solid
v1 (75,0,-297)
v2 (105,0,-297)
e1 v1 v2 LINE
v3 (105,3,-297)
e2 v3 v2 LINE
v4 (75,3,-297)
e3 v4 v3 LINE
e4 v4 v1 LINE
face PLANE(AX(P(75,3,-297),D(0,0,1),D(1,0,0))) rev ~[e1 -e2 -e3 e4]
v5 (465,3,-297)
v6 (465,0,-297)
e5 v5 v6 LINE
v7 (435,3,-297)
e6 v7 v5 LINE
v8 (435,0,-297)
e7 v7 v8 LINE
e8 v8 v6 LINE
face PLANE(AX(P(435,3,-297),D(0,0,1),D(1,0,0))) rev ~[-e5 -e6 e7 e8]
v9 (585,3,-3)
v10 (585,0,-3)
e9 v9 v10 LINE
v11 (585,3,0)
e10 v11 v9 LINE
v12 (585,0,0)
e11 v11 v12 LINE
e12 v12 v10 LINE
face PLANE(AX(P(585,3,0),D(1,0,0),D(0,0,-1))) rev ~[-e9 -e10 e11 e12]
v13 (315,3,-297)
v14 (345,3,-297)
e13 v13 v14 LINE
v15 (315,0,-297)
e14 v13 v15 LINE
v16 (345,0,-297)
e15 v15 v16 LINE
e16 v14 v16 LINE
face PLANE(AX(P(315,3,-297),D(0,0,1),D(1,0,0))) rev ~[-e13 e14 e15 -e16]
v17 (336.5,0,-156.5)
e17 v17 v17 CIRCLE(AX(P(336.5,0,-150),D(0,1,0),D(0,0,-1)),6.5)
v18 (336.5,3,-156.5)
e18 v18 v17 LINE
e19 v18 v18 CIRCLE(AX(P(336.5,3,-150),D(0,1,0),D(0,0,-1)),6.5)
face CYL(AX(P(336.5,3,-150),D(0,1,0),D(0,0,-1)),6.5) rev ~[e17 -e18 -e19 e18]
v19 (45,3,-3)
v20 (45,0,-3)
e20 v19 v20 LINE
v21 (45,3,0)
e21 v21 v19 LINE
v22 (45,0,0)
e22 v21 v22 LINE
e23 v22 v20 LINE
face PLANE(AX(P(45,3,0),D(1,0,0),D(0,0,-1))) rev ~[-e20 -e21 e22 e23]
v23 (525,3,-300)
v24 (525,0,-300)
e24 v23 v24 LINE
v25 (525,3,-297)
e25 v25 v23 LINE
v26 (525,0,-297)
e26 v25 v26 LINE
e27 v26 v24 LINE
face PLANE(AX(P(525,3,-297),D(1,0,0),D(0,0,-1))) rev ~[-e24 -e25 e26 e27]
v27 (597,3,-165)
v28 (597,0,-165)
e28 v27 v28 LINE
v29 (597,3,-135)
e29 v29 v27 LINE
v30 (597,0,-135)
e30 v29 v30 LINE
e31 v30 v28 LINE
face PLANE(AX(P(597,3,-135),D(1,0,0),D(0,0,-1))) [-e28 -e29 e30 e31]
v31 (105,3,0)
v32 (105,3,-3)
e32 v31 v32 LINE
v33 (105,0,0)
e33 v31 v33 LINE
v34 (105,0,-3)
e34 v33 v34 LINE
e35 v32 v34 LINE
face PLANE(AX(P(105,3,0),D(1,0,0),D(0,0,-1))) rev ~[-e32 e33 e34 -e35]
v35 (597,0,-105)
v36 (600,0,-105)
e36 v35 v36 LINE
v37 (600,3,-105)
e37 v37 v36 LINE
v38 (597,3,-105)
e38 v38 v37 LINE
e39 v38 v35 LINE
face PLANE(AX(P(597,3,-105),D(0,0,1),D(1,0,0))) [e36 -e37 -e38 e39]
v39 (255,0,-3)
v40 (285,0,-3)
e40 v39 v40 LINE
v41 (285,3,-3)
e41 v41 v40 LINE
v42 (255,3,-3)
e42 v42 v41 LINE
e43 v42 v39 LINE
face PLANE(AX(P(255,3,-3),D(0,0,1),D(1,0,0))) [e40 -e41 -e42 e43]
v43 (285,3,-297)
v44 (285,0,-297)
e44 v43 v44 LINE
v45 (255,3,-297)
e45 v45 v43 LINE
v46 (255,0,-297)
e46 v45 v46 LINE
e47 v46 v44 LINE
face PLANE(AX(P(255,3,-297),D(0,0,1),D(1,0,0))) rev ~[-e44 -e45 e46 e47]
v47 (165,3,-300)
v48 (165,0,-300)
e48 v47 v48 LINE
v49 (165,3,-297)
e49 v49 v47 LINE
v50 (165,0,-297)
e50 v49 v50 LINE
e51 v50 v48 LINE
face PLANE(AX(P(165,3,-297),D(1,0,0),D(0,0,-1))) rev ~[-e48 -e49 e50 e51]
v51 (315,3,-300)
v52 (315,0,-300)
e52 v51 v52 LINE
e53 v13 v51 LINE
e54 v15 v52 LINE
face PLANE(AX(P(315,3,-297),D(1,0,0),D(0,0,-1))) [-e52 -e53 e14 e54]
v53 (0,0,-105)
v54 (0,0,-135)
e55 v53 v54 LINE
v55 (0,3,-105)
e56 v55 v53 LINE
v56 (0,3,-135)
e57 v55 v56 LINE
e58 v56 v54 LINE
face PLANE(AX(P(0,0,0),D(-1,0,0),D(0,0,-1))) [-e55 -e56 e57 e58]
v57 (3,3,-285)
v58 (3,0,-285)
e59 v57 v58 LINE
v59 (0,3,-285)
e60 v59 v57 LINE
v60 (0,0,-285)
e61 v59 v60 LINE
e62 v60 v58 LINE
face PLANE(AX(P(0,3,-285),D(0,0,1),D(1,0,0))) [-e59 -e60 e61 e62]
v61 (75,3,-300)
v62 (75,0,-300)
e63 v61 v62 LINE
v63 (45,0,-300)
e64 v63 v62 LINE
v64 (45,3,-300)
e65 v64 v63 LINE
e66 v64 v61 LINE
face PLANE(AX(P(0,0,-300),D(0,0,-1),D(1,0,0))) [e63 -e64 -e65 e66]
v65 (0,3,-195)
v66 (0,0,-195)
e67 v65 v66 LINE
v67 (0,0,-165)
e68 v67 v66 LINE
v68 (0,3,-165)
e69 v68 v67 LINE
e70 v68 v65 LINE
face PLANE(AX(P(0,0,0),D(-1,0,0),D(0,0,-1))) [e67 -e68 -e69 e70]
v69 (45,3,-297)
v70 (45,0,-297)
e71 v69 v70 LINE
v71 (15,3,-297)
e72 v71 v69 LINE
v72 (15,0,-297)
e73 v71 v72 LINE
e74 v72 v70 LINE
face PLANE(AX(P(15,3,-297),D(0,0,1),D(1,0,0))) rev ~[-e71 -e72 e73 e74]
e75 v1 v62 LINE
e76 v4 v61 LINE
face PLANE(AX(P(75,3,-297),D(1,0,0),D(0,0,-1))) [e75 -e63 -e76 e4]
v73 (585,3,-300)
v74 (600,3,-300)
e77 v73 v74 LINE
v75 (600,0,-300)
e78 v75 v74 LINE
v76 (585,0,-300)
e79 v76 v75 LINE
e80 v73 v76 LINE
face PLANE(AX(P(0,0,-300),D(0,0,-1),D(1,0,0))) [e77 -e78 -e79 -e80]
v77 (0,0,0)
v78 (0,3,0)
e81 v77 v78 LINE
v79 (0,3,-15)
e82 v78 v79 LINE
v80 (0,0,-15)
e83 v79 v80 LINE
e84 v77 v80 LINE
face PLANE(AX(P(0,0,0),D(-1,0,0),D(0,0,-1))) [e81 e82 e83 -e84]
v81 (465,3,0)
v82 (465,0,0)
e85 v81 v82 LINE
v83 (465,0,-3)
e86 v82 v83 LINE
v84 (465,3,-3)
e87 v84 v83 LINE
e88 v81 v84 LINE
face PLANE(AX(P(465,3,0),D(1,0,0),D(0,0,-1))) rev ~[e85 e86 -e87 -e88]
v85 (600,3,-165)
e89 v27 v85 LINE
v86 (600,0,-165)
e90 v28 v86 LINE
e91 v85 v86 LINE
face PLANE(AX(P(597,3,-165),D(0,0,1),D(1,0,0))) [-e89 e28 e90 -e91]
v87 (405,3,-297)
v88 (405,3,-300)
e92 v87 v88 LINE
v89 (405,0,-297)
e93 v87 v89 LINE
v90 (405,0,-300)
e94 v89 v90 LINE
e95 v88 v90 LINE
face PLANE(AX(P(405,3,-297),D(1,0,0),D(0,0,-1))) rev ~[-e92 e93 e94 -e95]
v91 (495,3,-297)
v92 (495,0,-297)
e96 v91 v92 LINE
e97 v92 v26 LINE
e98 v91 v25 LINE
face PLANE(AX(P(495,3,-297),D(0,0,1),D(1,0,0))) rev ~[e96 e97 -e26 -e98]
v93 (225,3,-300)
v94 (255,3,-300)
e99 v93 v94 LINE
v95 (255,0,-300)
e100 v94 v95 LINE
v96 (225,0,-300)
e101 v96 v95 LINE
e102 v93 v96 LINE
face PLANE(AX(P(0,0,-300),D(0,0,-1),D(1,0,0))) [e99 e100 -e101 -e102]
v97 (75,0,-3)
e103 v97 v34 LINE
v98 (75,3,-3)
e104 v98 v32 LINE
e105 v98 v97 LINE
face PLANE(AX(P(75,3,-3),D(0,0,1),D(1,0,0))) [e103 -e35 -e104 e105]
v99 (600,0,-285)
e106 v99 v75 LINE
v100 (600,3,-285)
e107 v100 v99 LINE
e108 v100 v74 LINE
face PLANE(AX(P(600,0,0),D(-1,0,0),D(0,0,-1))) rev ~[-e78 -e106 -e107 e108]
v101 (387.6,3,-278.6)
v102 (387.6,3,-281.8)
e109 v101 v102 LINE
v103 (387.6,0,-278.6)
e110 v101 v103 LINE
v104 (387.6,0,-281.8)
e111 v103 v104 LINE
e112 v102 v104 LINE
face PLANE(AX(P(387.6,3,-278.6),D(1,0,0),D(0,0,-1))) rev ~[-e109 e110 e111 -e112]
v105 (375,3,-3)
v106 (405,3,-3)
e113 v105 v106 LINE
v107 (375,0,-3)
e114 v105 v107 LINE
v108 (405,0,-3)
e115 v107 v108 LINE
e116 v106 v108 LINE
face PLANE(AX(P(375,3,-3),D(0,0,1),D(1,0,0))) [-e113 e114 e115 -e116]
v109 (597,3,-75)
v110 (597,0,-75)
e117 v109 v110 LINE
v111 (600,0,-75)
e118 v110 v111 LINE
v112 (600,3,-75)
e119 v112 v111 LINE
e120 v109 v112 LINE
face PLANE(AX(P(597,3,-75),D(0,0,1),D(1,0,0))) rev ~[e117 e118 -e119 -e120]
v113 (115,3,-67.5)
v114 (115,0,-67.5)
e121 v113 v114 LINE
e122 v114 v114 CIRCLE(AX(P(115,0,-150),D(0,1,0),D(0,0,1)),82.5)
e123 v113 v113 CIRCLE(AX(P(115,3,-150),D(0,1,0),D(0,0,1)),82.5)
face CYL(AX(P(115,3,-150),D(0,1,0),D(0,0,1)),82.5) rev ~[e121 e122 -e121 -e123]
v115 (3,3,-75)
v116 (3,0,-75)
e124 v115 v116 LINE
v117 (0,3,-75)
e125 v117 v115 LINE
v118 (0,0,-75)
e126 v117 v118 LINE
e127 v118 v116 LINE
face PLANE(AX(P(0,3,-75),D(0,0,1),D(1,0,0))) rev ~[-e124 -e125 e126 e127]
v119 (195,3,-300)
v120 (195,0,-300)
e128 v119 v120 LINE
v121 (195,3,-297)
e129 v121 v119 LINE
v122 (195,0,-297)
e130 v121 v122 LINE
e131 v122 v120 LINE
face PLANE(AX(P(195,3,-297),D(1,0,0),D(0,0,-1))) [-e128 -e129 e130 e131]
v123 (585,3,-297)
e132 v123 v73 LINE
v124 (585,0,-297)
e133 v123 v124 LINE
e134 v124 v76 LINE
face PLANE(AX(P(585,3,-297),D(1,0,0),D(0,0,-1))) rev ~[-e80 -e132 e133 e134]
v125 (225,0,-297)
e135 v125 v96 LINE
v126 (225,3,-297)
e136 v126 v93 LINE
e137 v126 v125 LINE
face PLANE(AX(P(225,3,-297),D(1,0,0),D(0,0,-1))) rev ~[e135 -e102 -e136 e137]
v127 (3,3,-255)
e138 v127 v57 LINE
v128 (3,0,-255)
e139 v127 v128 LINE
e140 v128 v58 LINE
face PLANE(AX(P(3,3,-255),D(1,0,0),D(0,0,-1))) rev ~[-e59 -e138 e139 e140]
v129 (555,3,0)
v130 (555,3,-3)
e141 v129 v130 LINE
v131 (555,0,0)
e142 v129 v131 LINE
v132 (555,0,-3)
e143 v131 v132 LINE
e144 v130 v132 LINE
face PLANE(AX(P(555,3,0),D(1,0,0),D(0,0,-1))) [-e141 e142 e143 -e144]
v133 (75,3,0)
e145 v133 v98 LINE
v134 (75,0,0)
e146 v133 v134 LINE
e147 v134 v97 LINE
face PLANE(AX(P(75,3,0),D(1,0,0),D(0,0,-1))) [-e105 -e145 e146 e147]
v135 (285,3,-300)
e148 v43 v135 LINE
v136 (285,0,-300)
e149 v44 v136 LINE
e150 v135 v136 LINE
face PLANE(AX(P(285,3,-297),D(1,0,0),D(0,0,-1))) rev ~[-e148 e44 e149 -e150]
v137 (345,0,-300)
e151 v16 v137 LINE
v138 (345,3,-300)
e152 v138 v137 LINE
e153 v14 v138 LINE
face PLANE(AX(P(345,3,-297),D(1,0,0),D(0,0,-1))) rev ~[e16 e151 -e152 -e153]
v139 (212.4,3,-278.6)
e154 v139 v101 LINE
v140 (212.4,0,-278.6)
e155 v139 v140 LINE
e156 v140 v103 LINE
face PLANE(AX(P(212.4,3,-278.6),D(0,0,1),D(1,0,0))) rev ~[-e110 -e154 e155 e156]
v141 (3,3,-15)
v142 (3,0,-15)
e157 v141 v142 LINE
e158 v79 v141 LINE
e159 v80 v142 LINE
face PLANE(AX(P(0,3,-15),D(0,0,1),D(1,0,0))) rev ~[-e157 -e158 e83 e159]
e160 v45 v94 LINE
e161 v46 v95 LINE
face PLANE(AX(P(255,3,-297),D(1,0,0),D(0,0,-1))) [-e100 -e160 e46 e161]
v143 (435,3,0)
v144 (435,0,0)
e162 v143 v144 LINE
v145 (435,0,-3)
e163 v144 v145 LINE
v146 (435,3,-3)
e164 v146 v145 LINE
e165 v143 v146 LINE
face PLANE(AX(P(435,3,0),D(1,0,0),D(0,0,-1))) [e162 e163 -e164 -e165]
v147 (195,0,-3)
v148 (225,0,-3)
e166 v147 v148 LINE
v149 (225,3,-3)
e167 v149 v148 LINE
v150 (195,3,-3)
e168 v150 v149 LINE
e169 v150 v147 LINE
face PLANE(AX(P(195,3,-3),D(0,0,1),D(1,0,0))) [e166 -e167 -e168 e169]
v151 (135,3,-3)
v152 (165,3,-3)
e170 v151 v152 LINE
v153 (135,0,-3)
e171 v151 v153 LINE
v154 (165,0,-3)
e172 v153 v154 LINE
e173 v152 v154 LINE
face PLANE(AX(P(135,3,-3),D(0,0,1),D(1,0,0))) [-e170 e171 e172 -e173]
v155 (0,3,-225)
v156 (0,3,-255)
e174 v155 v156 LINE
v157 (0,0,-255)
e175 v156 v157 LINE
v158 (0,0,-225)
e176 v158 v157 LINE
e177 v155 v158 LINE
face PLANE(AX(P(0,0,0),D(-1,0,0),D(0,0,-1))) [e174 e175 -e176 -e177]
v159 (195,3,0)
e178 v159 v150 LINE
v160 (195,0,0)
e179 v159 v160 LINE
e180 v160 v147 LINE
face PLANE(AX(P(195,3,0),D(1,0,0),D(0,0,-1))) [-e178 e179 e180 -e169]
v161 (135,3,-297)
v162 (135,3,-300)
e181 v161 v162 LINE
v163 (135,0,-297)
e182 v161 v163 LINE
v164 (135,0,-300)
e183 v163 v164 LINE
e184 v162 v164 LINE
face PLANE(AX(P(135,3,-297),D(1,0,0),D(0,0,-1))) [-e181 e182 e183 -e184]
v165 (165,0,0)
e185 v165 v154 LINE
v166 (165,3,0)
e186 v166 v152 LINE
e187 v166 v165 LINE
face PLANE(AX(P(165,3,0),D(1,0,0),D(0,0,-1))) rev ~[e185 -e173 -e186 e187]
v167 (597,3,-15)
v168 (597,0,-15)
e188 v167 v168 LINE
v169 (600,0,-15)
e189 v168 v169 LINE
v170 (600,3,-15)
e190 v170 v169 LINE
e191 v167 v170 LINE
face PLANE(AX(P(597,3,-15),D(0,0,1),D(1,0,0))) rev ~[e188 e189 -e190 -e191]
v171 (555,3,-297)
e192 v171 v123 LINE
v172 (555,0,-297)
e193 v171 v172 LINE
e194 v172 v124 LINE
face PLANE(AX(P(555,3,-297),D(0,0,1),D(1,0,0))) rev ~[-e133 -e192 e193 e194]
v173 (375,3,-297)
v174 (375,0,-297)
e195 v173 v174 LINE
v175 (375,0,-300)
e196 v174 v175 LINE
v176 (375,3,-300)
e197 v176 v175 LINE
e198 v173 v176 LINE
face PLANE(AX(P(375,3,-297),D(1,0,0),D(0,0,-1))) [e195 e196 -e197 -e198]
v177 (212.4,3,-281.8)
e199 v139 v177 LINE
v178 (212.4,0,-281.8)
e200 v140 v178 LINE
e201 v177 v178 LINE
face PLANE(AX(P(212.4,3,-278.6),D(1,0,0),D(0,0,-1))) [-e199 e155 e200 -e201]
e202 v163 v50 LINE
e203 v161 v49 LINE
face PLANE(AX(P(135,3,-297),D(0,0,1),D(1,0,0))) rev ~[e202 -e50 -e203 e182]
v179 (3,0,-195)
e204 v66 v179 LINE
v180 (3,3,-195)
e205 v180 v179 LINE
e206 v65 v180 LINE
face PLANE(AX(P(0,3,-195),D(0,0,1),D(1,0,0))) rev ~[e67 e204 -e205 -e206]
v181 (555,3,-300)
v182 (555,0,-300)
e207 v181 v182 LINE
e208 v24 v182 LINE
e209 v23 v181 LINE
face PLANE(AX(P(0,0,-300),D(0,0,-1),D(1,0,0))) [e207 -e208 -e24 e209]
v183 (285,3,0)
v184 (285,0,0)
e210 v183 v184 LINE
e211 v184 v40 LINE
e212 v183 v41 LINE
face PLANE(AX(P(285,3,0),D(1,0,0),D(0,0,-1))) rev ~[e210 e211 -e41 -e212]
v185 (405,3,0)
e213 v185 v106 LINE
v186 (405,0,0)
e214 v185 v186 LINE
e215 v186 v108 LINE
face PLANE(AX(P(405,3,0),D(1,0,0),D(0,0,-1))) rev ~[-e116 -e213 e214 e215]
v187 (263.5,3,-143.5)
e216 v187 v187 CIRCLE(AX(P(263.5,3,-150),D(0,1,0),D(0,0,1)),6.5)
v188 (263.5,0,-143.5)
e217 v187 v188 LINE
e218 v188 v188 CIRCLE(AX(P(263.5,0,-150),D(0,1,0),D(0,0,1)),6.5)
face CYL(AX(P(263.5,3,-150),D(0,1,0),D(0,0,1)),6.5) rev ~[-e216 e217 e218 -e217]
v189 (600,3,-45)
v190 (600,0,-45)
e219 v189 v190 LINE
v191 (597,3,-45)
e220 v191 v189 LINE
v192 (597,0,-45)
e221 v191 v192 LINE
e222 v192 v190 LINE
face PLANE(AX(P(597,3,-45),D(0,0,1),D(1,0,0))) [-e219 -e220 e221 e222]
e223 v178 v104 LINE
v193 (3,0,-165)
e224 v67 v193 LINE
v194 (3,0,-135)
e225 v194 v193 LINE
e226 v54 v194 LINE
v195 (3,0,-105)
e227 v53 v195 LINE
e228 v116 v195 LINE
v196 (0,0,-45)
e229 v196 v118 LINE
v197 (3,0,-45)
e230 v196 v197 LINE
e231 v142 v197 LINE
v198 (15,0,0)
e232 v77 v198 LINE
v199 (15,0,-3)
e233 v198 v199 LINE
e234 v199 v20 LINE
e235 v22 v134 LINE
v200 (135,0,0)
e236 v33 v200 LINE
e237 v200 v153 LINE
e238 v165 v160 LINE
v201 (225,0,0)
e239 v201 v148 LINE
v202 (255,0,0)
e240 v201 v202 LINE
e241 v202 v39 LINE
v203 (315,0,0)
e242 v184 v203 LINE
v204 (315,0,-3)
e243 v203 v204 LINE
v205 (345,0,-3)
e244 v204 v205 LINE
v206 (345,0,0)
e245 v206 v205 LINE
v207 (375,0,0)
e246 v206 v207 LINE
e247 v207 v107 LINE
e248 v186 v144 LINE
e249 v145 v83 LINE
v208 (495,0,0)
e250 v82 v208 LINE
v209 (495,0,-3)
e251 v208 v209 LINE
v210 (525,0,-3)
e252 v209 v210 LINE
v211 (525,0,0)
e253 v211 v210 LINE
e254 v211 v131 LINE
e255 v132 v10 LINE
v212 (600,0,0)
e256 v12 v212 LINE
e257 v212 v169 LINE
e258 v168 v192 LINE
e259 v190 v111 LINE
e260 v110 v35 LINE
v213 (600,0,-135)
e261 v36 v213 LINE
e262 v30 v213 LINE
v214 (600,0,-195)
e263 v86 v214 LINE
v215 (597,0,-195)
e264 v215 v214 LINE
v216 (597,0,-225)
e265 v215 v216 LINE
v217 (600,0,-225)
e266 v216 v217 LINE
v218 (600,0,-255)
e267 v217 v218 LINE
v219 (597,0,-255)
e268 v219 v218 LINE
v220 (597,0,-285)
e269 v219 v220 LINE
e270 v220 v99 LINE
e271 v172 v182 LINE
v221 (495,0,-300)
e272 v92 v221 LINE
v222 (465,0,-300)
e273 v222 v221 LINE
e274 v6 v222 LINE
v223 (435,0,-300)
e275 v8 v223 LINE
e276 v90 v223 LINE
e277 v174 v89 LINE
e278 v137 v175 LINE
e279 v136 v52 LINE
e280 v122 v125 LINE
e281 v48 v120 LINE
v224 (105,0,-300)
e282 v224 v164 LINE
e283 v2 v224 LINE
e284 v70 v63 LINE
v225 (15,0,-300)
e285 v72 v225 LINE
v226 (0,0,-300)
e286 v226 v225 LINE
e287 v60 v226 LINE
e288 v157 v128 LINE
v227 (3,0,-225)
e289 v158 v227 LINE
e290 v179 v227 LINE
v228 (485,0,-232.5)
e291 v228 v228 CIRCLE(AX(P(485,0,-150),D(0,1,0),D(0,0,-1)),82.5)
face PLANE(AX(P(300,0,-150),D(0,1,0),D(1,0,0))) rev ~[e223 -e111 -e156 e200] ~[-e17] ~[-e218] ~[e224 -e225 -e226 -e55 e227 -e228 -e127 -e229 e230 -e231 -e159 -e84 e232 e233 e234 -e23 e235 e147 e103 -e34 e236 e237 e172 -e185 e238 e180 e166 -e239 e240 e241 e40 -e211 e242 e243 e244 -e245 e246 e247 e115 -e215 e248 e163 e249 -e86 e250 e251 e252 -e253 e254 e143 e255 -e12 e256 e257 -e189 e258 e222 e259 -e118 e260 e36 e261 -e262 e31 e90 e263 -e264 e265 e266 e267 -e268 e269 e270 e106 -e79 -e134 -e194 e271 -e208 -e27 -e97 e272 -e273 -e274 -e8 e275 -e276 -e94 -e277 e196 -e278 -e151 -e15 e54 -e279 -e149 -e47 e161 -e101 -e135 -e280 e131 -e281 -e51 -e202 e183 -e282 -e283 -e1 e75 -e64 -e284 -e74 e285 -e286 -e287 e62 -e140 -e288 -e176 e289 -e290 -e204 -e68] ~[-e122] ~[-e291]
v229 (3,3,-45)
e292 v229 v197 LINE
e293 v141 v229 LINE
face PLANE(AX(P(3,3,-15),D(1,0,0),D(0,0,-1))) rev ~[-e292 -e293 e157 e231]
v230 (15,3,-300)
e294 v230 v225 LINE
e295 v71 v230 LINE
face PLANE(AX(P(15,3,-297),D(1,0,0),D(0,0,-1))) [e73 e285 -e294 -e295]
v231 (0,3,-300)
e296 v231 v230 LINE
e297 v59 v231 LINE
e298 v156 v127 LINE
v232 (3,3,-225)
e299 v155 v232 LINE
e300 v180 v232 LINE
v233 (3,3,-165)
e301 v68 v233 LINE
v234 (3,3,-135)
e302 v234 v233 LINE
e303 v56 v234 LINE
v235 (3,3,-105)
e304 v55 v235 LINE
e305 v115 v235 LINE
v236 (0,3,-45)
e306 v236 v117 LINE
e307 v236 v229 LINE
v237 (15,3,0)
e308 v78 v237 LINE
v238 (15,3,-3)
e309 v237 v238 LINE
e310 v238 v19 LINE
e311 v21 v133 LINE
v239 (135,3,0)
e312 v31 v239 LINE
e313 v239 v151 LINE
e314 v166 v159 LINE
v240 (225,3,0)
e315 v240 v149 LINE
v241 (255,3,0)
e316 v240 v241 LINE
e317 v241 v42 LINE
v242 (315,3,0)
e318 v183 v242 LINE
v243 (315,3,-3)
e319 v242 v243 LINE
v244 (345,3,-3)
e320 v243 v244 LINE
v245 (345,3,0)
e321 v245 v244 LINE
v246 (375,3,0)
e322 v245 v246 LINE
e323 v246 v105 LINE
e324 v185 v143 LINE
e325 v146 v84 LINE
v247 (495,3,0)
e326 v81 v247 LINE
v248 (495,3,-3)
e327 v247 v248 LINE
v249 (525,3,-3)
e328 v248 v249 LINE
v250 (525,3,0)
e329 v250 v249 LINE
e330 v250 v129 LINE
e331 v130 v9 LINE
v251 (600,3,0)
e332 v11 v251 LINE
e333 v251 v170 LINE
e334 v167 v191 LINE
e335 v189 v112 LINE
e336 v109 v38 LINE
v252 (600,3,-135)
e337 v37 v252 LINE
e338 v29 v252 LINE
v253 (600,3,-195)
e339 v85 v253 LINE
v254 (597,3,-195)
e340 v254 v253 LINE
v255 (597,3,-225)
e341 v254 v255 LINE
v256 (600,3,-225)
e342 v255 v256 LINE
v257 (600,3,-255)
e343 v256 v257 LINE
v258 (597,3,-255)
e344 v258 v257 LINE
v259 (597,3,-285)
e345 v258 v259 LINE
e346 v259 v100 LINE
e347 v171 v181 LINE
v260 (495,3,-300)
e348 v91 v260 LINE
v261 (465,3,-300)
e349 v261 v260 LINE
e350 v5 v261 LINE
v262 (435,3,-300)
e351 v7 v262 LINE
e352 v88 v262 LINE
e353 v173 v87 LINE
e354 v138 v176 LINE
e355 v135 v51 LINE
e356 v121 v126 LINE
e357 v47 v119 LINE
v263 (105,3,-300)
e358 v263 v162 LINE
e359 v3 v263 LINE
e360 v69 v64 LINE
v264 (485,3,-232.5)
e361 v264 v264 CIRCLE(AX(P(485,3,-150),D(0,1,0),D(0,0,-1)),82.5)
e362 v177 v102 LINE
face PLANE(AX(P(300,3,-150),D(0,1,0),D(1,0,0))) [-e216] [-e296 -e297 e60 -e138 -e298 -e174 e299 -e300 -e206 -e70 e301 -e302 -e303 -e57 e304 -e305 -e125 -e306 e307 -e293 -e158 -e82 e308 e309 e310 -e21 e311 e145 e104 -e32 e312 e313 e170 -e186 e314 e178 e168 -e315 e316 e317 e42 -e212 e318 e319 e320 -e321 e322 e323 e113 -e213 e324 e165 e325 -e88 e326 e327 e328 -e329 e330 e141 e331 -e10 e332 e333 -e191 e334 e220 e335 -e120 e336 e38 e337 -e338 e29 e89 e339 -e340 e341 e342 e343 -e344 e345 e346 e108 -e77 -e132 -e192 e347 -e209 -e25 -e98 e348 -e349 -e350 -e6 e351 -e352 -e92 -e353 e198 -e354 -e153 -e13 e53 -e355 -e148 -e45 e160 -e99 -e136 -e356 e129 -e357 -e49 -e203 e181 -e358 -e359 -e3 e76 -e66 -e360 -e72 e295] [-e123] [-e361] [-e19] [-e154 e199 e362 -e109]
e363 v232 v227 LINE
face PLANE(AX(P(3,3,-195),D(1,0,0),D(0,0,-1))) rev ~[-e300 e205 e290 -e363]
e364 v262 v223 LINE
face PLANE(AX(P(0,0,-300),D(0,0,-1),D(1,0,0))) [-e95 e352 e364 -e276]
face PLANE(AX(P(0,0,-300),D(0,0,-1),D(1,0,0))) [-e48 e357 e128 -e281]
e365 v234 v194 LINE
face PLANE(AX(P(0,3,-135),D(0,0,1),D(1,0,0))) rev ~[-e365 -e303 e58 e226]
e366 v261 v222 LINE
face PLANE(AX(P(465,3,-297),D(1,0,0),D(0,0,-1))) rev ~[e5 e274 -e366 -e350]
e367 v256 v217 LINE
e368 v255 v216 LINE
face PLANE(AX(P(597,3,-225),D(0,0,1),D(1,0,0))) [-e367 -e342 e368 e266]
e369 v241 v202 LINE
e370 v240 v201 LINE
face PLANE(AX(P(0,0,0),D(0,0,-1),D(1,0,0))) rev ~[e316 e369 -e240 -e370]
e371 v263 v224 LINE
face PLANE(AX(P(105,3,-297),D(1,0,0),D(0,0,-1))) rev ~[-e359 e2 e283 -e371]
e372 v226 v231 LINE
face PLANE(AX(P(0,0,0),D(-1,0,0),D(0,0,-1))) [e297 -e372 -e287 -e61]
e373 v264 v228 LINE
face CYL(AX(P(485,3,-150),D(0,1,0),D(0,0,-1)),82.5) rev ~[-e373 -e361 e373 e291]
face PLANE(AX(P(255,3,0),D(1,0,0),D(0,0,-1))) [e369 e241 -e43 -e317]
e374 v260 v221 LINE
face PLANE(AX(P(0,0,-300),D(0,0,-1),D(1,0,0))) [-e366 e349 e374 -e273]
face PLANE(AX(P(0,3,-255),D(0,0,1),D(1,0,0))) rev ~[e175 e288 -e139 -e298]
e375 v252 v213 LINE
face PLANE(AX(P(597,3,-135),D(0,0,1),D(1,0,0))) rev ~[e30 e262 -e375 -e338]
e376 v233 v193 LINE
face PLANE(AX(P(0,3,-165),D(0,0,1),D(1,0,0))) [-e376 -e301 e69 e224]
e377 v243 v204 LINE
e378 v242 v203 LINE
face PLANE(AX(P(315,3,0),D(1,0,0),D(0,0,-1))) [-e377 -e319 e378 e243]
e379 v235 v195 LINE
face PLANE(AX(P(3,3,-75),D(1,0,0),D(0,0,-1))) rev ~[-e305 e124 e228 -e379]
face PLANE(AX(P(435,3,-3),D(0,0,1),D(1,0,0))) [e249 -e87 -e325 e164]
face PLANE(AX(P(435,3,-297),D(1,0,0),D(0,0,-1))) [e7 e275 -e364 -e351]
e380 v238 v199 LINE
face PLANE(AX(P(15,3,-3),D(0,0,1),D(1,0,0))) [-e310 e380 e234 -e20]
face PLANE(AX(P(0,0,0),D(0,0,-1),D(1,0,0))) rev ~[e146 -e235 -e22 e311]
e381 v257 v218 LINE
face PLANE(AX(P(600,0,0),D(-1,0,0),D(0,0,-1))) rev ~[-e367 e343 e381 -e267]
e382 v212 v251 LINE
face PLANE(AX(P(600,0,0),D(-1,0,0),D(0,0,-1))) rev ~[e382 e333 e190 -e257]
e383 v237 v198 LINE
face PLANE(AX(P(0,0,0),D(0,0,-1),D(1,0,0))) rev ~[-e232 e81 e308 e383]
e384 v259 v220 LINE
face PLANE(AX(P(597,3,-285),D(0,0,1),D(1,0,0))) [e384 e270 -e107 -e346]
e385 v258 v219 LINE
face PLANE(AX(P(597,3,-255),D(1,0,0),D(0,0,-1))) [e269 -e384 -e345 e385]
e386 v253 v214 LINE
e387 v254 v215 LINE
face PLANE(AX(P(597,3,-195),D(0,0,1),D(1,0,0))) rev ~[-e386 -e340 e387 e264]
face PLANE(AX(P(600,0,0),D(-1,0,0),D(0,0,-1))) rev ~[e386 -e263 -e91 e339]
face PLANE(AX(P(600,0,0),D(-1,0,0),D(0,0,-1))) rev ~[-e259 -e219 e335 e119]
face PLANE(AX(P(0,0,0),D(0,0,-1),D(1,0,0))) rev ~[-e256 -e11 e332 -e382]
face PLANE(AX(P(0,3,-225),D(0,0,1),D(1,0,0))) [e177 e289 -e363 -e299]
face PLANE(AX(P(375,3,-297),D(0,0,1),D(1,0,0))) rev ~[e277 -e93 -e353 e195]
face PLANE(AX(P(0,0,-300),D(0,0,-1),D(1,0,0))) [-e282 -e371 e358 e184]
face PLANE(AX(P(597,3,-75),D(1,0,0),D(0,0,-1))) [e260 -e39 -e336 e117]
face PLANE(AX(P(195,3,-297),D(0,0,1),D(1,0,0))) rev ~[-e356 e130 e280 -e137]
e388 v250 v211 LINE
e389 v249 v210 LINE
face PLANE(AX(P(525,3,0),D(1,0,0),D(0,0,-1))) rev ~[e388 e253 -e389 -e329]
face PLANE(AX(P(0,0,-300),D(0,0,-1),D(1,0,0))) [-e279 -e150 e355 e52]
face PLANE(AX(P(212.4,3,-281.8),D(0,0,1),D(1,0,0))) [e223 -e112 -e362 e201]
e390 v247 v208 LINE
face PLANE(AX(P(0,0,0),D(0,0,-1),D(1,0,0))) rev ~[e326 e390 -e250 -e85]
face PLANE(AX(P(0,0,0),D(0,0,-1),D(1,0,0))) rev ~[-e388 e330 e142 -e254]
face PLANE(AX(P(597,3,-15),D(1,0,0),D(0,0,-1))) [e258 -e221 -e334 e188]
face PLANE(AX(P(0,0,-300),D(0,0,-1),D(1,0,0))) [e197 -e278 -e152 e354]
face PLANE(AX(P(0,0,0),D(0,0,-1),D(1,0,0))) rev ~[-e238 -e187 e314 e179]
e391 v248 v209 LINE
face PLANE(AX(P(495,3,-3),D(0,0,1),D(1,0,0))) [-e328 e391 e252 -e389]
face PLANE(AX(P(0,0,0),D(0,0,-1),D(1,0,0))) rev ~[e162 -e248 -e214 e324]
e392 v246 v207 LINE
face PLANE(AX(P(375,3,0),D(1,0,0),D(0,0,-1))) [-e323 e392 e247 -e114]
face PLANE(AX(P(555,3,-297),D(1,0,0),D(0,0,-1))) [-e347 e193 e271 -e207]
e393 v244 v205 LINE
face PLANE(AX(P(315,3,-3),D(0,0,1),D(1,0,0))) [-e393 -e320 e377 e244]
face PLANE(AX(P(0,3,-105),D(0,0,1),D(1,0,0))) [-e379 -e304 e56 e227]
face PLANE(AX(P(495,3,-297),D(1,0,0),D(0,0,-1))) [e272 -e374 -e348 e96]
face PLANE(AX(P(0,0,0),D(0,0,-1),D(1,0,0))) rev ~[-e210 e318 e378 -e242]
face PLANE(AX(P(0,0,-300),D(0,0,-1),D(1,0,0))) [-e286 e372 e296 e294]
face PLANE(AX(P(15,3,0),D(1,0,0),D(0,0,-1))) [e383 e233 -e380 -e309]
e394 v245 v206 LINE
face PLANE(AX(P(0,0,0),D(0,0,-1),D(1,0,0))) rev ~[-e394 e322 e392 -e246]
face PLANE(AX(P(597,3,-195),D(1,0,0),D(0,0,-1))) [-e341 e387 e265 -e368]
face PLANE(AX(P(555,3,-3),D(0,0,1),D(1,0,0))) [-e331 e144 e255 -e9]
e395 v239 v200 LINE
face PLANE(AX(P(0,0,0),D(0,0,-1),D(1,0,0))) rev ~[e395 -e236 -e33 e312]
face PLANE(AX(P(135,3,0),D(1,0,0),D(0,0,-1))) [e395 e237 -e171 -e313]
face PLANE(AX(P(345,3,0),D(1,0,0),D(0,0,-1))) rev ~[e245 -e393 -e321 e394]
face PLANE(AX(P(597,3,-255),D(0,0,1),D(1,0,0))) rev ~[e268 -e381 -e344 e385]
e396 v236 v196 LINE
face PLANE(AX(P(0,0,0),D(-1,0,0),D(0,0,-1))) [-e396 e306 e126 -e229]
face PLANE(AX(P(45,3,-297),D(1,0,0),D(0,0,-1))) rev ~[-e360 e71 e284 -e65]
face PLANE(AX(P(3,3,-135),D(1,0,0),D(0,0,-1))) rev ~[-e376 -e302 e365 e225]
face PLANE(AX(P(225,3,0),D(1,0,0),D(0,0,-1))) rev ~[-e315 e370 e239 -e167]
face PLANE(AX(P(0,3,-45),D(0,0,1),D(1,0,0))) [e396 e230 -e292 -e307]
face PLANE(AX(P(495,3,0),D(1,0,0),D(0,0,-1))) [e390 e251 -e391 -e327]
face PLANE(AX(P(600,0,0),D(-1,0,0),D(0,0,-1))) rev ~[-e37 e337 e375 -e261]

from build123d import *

# Parameters (mm, degrees)
SKETCH1_W           = 600
SKETCH1_H           = 300
BOSS_EXTRUDE1_DEPTH = 3
SKETCH2_R           = 82.5
SKETCH2_R_2         = 6.5
SKETCH2_W           = 30
SKETCH2_H           = 3
SKETCH2_W_2         = 3
SKETCH2_H_2         = 30
CUT_EXTRUDE2_DEPTH  = 5
SKETCH3_W           = 175.2
SKETCH3_H           = 3.2
CUT_EXTRUDE3_DEPTH  = 10


with BuildPart() as part:
    # Sketch1 → Boss-Extrude1 (new body)
    with BuildSketch(Plane(origin=(0, 0, 0), x_dir=(1, 0, 0), z_dir=(0, 1, 0))):
        with Locations((300, 150)):
            Rectangle(SKETCH1_W, SKETCH1_H)
    extrude(amount=BOSS_EXTRUDE1_DEPTH)

    # Sketch2 → Cut-Extrude2 (cut)
    with BuildSketch(Plane(origin=(0, 3, 0), x_dir=(1, 0, 0), z_dir=(0, 1, 0))):
        with Locations(Location((115, 150, 0), (0, 0, 270))):
            Circle(SKETCH2_R)
        with Locations(Location((263.5, 150, 0), (0, 0, 270))):
            Circle(SKETCH2_R_2)
        with Locations(Location((336.5, 150, 0), (0, 0, 90))):
            Circle(SKETCH2_R_2)
        with Locations(Location((485, 150, 0), (0, 0, 90))):
            Circle(SKETCH2_R)
        with Locations((90, 1.5)):
            Rectangle(SKETCH2_W, SKETCH2_H)
        with Locations((30, 1.5)):
            Rectangle(SKETCH2_W, SKETCH2_H)
        with Locations((150, 1.5)):
            Rectangle(SKETCH2_W, SKETCH2_H)
        with Locations((210, 1.5)):
            Rectangle(SKETCH2_W, SKETCH2_H)
        with Locations((270, 1.5)):
            Rectangle(SKETCH2_W, SKETCH2_H)
        with Locations((330, 1.5)):
            Rectangle(SKETCH2_W, SKETCH2_H)
        with Locations((390, 1.5)):
            Rectangle(SKETCH2_W, SKETCH2_H)
        with Locations((450, 1.5)):
            Rectangle(SKETCH2_W, SKETCH2_H)
        with Locations((510, 1.5)):
            Rectangle(SKETCH2_W, SKETCH2_H)
        with Locations((570, 1.5)):
            Rectangle(SKETCH2_W, SKETCH2_H)
        with Locations((570, 298.5)):
            Rectangle(SKETCH2_W, SKETCH2_H)
        with Locations((510, 298.5)):
            Rectangle(SKETCH2_W, SKETCH2_H)
        with Locations((450, 298.5)):
            Rectangle(SKETCH2_W, SKETCH2_H)
        with Locations((390, 298.5)):
            Rectangle(SKETCH2_W, SKETCH2_H)
        with Locations((330, 298.5)):
            Rectangle(SKETCH2_W, SKETCH2_H)
        with Locations((270, 298.5)):
            Rectangle(SKETCH2_W, SKETCH2_H)
        with Locations((210, 298.5)):
            Rectangle(SKETCH2_W, SKETCH2_H)
        with Locations((150, 298.5)):
            Rectangle(SKETCH2_W, SKETCH2_H)
        with Locations((90, 298.5)):
            Rectangle(SKETCH2_W, SKETCH2_H)
        with Locations((30, 298.5)):
            Rectangle(SKETCH2_W, SKETCH2_H)
        with Locations((1.5, 210)):
            Rectangle(SKETCH2_W_2, SKETCH2_H_2)
        with Locations((1.5, 270)):
            Rectangle(SKETCH2_W_2, SKETCH2_H_2)
        with Locations((1.5, 150)):
            Rectangle(SKETCH2_W_2, SKETCH2_H_2)
        with Locations((1.5, 90)):
            Rectangle(SKETCH2_W_2, SKETCH2_H_2)
        with Locations((1.5, 30)):
            Rectangle(SKETCH2_W_2, SKETCH2_H_2)
        with Locations((598.5, 30)):
            Rectangle(SKETCH2_W_2, SKETCH2_H_2)
        with Locations((598.5, 90)):
            Rectangle(SKETCH2_W_2, SKETCH2_H_2)
        with Locations((598.5, 150)):
            Rectangle(SKETCH2_W_2, SKETCH2_H_2)
        with Locations((598.5, 210)):
            Rectangle(SKETCH2_W_2, SKETCH2_H_2)
        with Locations((598.5, 270)):
            Rectangle(SKETCH2_W_2, SKETCH2_H_2)
    extrude(amount=-CUT_EXTRUDE2_DEPTH, mode=Mode.SUBTRACT)

    # Sketch3 → Cut-Extrude3 (cut)
    with BuildSketch(Plane(origin=(0, 3, 0), x_dir=(1, 0, 0), z_dir=(0, 1, 0))):
        with Locations((300, 280.2)):
            Rectangle(SKETCH3_W, SKETCH3_H)
    extrude(amount=-CUT_EXTRUDE3_DEPTH, mode=Mode.SUBTRACT)


solid = part.part
